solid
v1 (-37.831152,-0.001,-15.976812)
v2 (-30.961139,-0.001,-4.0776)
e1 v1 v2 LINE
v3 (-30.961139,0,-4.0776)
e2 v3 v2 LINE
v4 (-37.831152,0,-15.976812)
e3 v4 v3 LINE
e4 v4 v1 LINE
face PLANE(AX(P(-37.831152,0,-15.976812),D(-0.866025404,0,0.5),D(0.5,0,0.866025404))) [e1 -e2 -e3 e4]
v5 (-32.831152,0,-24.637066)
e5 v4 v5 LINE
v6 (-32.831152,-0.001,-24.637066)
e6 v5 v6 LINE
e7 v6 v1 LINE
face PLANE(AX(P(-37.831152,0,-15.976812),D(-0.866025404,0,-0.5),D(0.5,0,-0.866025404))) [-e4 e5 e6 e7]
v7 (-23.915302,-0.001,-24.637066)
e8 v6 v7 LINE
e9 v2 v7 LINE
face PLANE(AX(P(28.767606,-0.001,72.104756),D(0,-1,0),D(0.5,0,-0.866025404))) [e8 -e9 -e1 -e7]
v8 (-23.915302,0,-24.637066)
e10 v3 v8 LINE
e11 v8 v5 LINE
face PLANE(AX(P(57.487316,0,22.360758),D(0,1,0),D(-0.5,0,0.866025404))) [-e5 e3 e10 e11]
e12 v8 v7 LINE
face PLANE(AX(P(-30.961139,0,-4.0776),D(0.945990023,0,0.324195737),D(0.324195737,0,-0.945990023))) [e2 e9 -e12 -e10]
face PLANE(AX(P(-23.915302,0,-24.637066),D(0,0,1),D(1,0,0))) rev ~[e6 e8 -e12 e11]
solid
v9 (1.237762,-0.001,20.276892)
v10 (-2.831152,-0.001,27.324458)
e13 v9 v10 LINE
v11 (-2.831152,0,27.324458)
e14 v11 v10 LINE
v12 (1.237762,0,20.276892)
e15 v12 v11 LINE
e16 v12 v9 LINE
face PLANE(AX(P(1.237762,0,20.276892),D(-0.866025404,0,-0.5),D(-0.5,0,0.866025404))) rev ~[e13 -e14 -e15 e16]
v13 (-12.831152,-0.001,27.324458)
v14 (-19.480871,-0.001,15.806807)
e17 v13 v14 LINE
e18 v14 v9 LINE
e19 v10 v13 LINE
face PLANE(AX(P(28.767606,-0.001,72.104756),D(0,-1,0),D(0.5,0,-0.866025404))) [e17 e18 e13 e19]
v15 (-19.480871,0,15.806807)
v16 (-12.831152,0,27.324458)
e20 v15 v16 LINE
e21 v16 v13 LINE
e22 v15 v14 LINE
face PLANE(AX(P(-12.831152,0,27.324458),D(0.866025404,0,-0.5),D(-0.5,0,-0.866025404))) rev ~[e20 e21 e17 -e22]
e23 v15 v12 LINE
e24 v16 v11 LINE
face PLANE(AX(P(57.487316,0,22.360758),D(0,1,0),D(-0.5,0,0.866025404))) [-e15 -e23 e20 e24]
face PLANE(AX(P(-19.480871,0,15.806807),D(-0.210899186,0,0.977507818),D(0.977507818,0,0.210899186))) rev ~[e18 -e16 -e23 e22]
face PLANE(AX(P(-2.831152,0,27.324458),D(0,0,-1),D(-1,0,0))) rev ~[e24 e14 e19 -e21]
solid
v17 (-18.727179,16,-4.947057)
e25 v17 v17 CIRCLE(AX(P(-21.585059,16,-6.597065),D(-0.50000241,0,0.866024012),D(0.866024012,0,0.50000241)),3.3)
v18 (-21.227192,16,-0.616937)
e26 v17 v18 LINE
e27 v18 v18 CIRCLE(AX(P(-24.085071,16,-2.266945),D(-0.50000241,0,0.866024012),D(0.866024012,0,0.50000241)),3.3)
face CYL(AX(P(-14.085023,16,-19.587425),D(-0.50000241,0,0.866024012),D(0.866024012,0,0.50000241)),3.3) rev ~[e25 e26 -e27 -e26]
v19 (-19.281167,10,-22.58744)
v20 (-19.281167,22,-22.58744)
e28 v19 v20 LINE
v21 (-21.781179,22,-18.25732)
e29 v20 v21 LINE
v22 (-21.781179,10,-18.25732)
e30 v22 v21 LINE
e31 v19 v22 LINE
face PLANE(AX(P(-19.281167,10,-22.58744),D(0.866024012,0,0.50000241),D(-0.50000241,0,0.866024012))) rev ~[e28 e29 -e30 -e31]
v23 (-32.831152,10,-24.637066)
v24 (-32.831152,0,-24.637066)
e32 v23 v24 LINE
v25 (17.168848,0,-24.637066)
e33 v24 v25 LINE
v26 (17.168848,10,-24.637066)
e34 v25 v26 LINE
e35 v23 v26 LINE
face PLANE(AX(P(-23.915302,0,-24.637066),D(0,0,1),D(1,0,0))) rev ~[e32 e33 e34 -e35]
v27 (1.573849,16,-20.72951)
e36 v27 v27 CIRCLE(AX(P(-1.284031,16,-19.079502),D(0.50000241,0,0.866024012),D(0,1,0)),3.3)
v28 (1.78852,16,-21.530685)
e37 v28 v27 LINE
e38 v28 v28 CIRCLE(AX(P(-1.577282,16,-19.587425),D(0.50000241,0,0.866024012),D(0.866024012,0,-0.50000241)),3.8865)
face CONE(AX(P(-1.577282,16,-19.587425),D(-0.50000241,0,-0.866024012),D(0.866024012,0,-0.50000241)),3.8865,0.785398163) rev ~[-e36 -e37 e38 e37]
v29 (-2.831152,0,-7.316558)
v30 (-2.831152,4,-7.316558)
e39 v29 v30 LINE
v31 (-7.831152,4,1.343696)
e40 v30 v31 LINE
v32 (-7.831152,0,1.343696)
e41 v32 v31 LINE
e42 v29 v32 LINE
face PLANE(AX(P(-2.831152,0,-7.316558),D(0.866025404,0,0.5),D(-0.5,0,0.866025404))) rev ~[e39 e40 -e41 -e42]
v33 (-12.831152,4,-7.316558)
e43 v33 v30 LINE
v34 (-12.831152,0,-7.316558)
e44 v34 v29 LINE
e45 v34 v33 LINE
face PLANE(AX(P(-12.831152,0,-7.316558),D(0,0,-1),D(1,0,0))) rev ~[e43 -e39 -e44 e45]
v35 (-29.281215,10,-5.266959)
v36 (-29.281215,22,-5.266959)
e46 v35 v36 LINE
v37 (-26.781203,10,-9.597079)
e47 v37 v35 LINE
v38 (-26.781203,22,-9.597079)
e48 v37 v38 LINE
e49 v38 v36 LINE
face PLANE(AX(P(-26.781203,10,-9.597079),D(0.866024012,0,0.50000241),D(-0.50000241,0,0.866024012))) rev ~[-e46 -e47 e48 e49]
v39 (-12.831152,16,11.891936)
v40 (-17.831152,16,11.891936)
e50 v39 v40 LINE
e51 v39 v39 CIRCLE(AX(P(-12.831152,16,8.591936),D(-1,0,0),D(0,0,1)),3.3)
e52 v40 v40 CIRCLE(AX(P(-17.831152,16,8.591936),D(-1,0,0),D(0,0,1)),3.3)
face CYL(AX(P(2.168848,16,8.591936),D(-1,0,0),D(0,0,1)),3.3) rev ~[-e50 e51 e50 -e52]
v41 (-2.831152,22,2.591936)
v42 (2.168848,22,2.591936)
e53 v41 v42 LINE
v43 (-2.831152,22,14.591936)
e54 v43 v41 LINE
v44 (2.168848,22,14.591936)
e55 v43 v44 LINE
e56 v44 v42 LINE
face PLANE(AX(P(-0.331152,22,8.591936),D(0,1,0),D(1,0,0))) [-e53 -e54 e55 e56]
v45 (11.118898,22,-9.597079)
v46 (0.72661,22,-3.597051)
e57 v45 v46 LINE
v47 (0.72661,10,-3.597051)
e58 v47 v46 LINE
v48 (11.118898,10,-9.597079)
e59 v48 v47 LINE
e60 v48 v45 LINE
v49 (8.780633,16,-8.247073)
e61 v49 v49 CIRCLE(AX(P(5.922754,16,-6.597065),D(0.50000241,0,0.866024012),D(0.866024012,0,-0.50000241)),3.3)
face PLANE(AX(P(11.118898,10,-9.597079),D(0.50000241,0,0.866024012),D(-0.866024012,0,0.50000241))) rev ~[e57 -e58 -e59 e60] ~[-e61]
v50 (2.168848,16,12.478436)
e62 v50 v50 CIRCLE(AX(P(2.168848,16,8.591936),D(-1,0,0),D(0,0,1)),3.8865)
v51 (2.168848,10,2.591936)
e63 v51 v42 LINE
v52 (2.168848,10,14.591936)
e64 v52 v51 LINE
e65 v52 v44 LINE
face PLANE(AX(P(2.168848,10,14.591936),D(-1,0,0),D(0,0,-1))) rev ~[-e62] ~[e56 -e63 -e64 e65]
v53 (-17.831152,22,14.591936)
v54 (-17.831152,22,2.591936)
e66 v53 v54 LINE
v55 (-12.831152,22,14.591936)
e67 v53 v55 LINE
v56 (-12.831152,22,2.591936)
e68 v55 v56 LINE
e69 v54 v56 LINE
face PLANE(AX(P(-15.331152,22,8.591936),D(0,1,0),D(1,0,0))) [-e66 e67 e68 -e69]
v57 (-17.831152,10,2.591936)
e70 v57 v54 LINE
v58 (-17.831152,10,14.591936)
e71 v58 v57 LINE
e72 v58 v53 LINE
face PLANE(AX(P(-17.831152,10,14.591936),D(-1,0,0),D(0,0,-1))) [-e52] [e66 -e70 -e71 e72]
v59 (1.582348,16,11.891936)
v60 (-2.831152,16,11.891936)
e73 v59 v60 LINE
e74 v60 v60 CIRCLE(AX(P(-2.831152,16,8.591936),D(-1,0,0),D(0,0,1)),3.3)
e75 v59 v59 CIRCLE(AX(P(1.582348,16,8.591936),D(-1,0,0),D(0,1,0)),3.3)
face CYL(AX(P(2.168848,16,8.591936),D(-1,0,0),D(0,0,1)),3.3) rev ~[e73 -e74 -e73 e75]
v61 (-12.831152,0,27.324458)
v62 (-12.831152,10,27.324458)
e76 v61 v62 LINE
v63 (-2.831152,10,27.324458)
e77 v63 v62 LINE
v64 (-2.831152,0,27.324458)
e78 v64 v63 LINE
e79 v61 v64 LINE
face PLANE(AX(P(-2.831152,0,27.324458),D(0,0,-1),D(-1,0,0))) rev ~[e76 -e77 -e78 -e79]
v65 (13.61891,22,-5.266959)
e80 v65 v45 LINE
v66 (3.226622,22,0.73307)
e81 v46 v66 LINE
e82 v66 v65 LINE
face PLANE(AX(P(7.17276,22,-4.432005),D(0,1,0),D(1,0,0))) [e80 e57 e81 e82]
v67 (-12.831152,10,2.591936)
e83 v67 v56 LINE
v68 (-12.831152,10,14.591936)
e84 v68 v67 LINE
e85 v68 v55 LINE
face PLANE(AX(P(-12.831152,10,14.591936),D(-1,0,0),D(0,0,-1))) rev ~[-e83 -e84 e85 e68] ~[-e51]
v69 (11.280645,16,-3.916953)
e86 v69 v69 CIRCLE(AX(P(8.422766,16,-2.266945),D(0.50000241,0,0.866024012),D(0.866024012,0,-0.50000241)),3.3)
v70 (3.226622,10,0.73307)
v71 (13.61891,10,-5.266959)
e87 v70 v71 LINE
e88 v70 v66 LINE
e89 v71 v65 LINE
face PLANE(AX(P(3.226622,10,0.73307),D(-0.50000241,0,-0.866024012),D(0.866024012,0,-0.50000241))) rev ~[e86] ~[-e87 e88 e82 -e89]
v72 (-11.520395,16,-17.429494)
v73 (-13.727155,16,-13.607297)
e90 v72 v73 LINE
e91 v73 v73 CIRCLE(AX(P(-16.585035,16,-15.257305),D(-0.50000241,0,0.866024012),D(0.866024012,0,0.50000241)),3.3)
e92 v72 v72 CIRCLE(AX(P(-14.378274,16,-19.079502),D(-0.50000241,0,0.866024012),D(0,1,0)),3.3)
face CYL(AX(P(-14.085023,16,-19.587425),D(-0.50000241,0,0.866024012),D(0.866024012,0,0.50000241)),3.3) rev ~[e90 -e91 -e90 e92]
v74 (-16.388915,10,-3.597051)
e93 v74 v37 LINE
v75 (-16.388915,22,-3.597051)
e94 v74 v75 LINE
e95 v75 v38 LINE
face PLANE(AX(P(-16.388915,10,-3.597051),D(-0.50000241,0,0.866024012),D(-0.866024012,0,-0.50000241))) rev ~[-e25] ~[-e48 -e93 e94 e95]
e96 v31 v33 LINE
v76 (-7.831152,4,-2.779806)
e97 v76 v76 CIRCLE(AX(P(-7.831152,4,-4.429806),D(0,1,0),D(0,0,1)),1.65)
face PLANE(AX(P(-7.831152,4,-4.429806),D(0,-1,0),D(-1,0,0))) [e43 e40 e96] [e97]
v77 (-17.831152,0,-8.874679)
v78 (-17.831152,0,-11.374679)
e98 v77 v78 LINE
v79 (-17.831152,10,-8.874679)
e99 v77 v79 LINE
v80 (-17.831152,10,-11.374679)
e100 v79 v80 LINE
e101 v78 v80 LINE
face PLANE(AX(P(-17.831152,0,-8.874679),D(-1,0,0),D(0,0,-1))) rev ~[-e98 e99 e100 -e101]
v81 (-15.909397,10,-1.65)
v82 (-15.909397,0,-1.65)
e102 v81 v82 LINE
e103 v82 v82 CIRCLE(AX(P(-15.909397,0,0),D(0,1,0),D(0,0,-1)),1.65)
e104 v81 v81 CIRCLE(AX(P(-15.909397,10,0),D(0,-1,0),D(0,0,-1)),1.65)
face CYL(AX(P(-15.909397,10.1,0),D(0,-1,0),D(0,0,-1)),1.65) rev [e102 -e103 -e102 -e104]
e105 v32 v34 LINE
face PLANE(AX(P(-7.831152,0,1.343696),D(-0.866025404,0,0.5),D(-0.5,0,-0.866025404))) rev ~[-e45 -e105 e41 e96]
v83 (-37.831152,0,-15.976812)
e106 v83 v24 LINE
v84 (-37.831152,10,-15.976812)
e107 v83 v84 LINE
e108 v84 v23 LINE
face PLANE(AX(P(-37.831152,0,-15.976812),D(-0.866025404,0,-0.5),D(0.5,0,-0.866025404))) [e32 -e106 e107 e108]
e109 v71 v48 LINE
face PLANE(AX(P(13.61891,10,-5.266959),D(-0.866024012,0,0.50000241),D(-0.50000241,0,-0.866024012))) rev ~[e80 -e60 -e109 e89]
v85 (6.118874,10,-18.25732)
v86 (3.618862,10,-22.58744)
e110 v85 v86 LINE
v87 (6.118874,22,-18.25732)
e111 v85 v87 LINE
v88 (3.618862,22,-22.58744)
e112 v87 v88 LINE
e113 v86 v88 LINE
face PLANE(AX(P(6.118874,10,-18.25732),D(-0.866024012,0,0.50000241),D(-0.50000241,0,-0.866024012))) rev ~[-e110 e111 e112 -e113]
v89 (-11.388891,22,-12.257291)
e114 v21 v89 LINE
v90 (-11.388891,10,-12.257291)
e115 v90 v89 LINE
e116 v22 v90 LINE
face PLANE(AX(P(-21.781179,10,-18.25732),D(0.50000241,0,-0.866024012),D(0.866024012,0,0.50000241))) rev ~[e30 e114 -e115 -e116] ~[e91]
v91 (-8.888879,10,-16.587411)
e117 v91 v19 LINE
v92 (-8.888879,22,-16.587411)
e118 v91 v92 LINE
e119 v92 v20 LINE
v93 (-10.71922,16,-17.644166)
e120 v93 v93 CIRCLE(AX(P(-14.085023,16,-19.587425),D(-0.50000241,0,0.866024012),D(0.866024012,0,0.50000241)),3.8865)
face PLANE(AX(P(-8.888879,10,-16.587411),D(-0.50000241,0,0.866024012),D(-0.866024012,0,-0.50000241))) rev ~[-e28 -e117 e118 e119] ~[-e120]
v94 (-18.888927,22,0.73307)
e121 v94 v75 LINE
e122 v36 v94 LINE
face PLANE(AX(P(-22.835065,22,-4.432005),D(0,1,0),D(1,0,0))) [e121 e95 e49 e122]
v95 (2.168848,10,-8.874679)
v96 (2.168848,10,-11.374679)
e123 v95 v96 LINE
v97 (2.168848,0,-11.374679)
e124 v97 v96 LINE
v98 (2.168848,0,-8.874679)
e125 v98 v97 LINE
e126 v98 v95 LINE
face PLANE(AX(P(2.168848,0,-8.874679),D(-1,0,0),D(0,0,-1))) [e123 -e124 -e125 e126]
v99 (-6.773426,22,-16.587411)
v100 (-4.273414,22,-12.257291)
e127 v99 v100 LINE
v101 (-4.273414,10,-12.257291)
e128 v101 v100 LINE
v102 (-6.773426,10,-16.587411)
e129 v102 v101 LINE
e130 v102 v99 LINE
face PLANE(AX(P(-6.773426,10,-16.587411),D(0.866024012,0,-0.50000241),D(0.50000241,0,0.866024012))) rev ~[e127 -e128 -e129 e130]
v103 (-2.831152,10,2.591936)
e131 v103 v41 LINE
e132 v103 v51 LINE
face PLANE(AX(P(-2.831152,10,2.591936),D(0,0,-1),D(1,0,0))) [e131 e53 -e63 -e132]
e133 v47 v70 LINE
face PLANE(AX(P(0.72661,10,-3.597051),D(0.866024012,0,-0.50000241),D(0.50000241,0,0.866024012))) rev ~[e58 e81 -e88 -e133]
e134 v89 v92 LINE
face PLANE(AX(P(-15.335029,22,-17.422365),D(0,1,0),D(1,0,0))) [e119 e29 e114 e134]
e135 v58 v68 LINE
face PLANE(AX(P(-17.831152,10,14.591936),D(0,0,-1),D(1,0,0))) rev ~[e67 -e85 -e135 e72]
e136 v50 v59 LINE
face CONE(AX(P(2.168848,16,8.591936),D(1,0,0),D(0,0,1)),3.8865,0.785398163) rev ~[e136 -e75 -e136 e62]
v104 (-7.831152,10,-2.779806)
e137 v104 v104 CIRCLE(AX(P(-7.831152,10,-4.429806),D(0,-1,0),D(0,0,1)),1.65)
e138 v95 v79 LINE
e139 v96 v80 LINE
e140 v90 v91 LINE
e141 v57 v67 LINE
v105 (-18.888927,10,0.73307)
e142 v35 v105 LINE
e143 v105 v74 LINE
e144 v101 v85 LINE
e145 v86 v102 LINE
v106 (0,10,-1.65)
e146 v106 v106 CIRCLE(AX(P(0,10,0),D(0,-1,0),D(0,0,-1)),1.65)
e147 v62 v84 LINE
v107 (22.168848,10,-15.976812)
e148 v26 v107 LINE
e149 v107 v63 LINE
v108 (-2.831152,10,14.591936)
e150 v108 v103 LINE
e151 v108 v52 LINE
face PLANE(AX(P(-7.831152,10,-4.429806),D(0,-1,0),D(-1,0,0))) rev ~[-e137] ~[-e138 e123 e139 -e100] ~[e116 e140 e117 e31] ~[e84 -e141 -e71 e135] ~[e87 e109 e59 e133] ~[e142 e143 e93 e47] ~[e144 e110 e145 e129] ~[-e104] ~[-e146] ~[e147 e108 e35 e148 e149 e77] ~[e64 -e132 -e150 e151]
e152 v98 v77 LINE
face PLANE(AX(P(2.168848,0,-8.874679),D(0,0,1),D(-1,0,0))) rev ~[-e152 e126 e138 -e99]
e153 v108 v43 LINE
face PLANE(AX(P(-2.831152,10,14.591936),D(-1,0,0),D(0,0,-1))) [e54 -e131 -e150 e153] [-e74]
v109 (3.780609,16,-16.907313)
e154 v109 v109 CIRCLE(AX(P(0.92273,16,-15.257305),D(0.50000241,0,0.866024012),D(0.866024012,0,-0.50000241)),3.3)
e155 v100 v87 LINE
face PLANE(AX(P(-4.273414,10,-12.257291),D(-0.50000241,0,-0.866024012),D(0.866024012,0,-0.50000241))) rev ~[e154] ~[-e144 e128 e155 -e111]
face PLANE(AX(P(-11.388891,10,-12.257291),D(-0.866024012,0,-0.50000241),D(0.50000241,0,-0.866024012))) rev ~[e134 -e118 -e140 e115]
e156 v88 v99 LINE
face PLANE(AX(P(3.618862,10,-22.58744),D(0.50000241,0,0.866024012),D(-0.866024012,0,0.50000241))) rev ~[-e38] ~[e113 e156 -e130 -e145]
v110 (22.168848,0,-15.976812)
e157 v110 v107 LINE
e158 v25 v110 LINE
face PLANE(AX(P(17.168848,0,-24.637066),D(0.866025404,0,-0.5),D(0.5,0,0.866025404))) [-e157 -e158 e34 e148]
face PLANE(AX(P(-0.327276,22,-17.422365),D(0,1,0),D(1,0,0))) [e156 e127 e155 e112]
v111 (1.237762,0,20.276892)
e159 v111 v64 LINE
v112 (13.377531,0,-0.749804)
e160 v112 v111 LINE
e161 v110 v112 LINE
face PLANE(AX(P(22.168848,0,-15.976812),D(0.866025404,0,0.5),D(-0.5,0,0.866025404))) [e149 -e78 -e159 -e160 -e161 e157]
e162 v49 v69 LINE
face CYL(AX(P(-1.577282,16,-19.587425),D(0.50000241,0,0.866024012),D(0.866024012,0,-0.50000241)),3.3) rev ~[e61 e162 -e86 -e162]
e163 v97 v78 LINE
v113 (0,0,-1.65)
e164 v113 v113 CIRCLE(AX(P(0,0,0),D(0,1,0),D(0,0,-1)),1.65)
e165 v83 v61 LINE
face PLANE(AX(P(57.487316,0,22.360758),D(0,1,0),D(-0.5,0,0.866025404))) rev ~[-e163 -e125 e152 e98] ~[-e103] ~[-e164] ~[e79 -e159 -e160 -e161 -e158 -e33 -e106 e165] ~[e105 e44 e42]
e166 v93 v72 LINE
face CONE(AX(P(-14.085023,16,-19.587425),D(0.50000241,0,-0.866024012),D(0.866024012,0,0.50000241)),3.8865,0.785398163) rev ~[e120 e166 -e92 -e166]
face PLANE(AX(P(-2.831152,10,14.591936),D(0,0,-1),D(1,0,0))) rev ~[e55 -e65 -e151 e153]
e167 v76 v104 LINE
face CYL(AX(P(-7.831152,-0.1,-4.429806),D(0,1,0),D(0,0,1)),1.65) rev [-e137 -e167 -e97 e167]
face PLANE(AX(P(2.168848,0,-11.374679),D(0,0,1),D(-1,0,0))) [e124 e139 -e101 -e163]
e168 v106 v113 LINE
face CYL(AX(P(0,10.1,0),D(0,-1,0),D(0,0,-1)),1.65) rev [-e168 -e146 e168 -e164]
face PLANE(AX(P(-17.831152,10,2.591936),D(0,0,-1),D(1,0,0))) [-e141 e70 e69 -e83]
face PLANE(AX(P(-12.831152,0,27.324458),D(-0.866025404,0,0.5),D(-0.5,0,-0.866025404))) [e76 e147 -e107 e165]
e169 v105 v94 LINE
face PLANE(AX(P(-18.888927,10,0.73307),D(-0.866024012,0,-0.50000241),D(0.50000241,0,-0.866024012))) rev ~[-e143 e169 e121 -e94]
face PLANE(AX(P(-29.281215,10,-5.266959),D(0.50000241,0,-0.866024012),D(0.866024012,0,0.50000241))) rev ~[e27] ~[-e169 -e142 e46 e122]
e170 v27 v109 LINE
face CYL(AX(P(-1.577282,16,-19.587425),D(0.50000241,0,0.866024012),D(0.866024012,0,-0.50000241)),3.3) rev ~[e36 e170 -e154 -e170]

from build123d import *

# Parameters (mm, degrees)
EXTRUDE_1_DEPTH                 = 10
SKETCH_2_W                      = 5
SKETCH_2_H                      = 12
EXTRUDE_4_DEPTH                 = 12
HOLE_WIZARD_G1_16_1_D           = 6.6
HOLE_WIZARD_G1_16_1_DEPTH       = 50
HOLE_WIZARD_G1_16_1_CSINK_D     = 7.773
HOLE_WIZARD_G1_16_1_CSINK_ANGLE = 90
HOLE_WIZARD_G1_16_1_TIP         = 1.982840043
HOLE_WIZARD_G1_16_2_D           = 6.6
HOLE_WIZARD_G1_16_2_DEPTH       = 50
HOLE_WIZARD_G1_16_2_CSINK_D     = 7.773
HOLE_WIZARD_G1_16_2_CSINK_ANGLE = 90
HOLE_WIZARD_G1_16_2_TIP         = 1.982840043
HOLE_WIZARD_G1_16_3_D           = 6.6
HOLE_WIZARD_G1_16_3_DEPTH       = 50
HOLE_WIZARD_G1_16_3_CSINK_D     = 7.773
HOLE_WIZARD_G1_16_3_CSINK_ANGLE = 90
HOLE_WIZARD_G1_16_3_TIP         = 1.982840043
EXTRUDE_5_DEPTH                 = 40
SKETCH_19_W                     = 50
SKETCH_19_H                     = 30
CUT_EXTRUDE_2_DEPTH             = 74
EXTRUDE_6_DEPTH                 = 40
SKETCH_23_R                     = 1.5
CUT_EXTRUDE_3_DEPTH             = 6
SPLIT_BODIES_1_SURFACE_1_BACK   = 101.717
SPLIT_BODIES_1_SURFACE_1_DEPTH  = 203.434
SPLIT_BODIES_1_SURFACE_2_BACK   = 101.717
SPLIT_BODIES_1_SURFACE_2_DEPTH  = 203.434
SKETCH_26_W                     = 78.052093204
SKETCH_26_H                     = 42.58927149
CUT_EXTRUDE_5_DEPTH             = 147
CUT_EXTRUDE_6_DEPTH             = 4
SKETCH_30_W                     = 20
SKETCH_30_H                     = 2.5
CUT_EXTRUDE_7_DEPTH             = 10
HOLE_WIZARD_M4_2_AT_2_COUNT     = 2
HOLE_WIZARD_M4_2_AT_2_PITCH     = 15.909397414


with BuildPart() as part:
    # 草图1 → 凸台-拉伸1 (new body)
    with BuildSketch(Plane(origin=(0, 0, 0), x_dir=(1, 0, 0), z_dir=(0, 1, 0))):
        Polygon((-32.831152269, 24.637065757), (17.168847731, 24.637065757), (22.168847731, 15.976811719), (-2.831152269, -27.32445847), (-12.831152269, -27.32445847), (-37.831152269, 15.976811719), align=None)
    extrude(amount=EXTRUDE_1_DEPTH)

    # 草图2 → 凸台-拉伸4 (add)
    with BuildSketch(Plane(origin=(0, 10, 0), x_dir=(1, 0, 0), z_dir=(0, 1, 0))):
        Polygon((-18.888926711, -0.733069557), (-16.388914662, 3.597050504), (-26.78120281, 9.597079424), (-29.28121486, 5.266959362), align=None)
        Polygon((-11.388890562, 12.257290628), (-8.888878512, 16.58741069), (-19.28116666, 22.58743961), (-21.78117871, 18.257319548), align=None)
        Polygon((-4.273413977, 12.257290628), (6.118874171, 18.257319548), (3.618862121, 22.58743961), (-6.773426027, 16.58741069), align=None)
        Polygon((3.226622172, -0.733069557), (13.618910321, 5.266959362), (11.118898271, 9.597079424), (0.726610123, 3.597050504), align=None)
        with Locations((-0.331152269, -8.591935763)):
            Rectangle(SKETCH_2_W, SKETCH_2_H)
        with Locations((-15.331152269, -8.591935763)):
            Rectangle(SKETCH_2_W, SKETCH_2_H)
    extrude(amount=EXTRUDE_4_DEPTH)

    # G1/16 螺纹孔1
    with Locations(Plane(origin=(4.96034155, 0, -8.591508373), x_dir=(-0.8660240123793532, 0, -0.500002409976558), z_dir=(0.500002409976558, 0, -0.8660240123793532))):
        with Locations((21.991727555, 16)):
            CounterSinkHole(HOLE_WIZARD_G1_16_1_D / 2, HOLE_WIZARD_G1_16_1_CSINK_D / 2, depth=HOLE_WIZARD_G1_16_1_DEPTH, counter_sink_angle=HOLE_WIZARD_G1_16_1_CSINK_ANGLE)
            with Locations((0, 0, -(HOLE_WIZARD_G1_16_1_DEPTH + HOLE_WIZARD_G1_16_1_TIP / 2))):  # 118° drill point
                Cone(0, HOLE_WIZARD_G1_16_1_D / 2, HOLE_WIZARD_G1_16_1_TIP, mode=Mode.SUBTRACT)

    # G1/16 螺纹孔2
    with Locations(Plane(origin=(-8.875955431, 0, -15.373506972), x_dir=(-0.8660240123793504, 0, 0.5000024099765628), z_dir=(-0.5000024099765628, 0, -0.8660240123793506))):
        with Locations((-8.427795735, 16)):
            CounterSinkHole(HOLE_WIZARD_G1_16_2_D / 2, HOLE_WIZARD_G1_16_2_CSINK_D / 2, depth=HOLE_WIZARD_G1_16_2_DEPTH, counter_sink_angle=HOLE_WIZARD_G1_16_2_CSINK_ANGLE)
            with Locations((0, 0, -(HOLE_WIZARD_G1_16_2_DEPTH + HOLE_WIZARD_G1_16_2_TIP / 2))):  # 118° drill point
                Cone(0, HOLE_WIZARD_G1_16_2_D / 2, HOLE_WIZARD_G1_16_2_TIP, mode=Mode.SUBTRACT)

    # G1/16 螺纹孔3
    with Locations(Plane(origin=(2.168847731, 0, 0), x_dir=(0, 0, -1), z_dir=(1, 0, 0))):
        with Locations((-8.591935763, 16)):
            CounterSinkHole(HOLE_WIZARD_G1_16_3_D / 2, HOLE_WIZARD_G1_16_3_CSINK_D / 2, depth=HOLE_WIZARD_G1_16_3_DEPTH, counter_sink_angle=HOLE_WIZARD_G1_16_3_CSINK_ANGLE)
            with Locations((0, 0, -(HOLE_WIZARD_G1_16_3_DEPTH + HOLE_WIZARD_G1_16_3_TIP / 2))):  # 118° drill point
                Cone(0, HOLE_WIZARD_G1_16_3_D / 2, HOLE_WIZARD_G1_16_3_TIP, mode=Mode.SUBTRACT)

    # 草图18 → 凸台-拉伸5 (add)
    with BuildSketch(Plane(origin=(0, 0, 0), x_dir=(-1, 0, 0), z_dir=(0, -1, 0))):
        Polygon((36.516059441, -12.131432542), (30.961139109, 4.077599876), (19.480871434, -15.806807021), align=None)
        Polygon((30.961139109, 4.077599876), (23.915302437, 24.637065757), (-1.237762159, -20.276891949), (19.480871434, -15.806807021), align=None)
        Polygon((23.915302437, 24.637065757), (0, 24.637065757), (-13.377530598, 0.749803781), (-1.237762159, -20.276891949), align=None)
    extrude(amount=EXTRUDE_5_DEPTH)

    # 草图19 → 切除-拉伸2 (cut)
    with BuildSketch(Plane(origin=(-4.125141126, 0, 19.119835281), x_dir=(0.9775078175150543, 0, 0.21089918609837094), z_dir=(-0.21089918609837097, 0, 0.9775078175150544))):
        with Locations((-8.136224319, -15)):
            Rectangle(SKETCH_19_W, SKETCH_19_H)
    extrude(amount=-CUT_EXTRUDE_2_DEPTH, mode=Mode.SUBTRACT)


with BuildPart() as cut_extrude_2_piece_1:
    # of the separate pieces the step leaves, piece 1, a body of its own (cut_extrude_2_pieces)
    add(part.part.solids().sort_by_distance((17.168847731, 0, -24.637065757))[0])



with BuildPart() as cut_extrude_2_piece_2:
    # of the separate pieces the step leaves, piece 2, a body of its own (cut_extrude_2_pieces)
    add(part.part.solids().sort_by_distance((-23.915302437, -30, -24.637065757))[0])


with BuildPart() as cut_extrude_2_piece_1_1:
    add(cut_extrude_2_piece_1.part)

    add(cut_extrude_2_piece_2.part)  # 凸台-拉伸6 merges 切除-拉伸2 piece 2
    # 草图20 → 凸台-拉伸6 (add)
    with BuildSketch(Plane.XZ):
        Polygon((-12.831152269, 27.32445847), (-19.480871434, 15.806807021), (1.237762159, 20.276891949), (-2.831152269, 27.32445847), align=None)
        Polygon((-37.831152269, -15.976811719), (-30.961139109, -4.077599876), (-23.915302437, -24.637065757), (-32.831152269, -24.637065757), align=None)
    extrude(amount=EXTRUDE_6_DEPTH)

    # 草图23 → 切除-拉伸3 (cut)
    with BuildSketch(Plane(origin=(0, -30, 0), x_dir=(1, 0, 0), z_dir=(0, 1, 0))):
        with Locations(Location((0.168847731, -0.188995818, 0), (0, 0, 270))):
            Circle(SKETCH_23_R)
        with Locations(Location((-7.831152269, 13.667410642, 0), (0, 0, 270))):
            Circle(SKETCH_23_R)
    extrude(amount=-CUT_EXTRUDE_3_DEPTH, mode=Mode.SUBTRACT)


with BuildPart() as body_2:
    # Split Bodies 1: the piece behind the surface
    add(cut_extrude_2_piece_1_1.part)
    # Split Bodies 1 surface: a surface, the sketch's curves swept straight by 203.434 mm
    with BuildLine(Plane(origin=(-35.291526612, 0, -20.37557239), x_dir=(-0.4999999999999961, 0, 0.866025403784441), z_dir=(-0.866025403784441, 0, -0.4999999999999961)).offset(-SPLIT_BODIES_1_SURFACE_1_BACK), mode=Mode.PRIVATE) as split_bodies_1_surface_1_path:
        Line((-9.378673602, 0), (48.060747663, 0))
        Line((48.060747663, 0), (48.060747663, -0.001))
        Line((48.060747663, -0.001), (-9.378673602, -0.001))
        Line((-9.378673602, -0.001), (-9.378673602, 0))
    split_bodies_1_surface_1 = Shell.extrude(split_bodies_1_surface_1_path.wire(), (-0.866025404 * SPLIT_BODIES_1_SURFACE_1_DEPTH, 0 * SPLIT_BODIES_1_SURFACE_1_DEPTH, -0.5 * SPLIT_BODIES_1_SURFACE_1_DEPTH))
    split(bisect_by=split_bodies_1_surface_1, keep=Keep.BOTTOM)


with BuildPart() as cut_extrude_2_piece_1_2:
    add(cut_extrude_2_piece_1_1.part)

    # Split Bodies 1: split by a surface, the side it looks to stays
    # Split Bodies 1 surface: a surface, the sketch's curves swept straight by 203.434 mm
    with BuildLine(Plane(origin=(-35.291526612, 0, -20.37557239), x_dir=(-0.4999999999999961, 0, 0.866025403784441), z_dir=(-0.866025403784441, 0, -0.4999999999999961)).offset(-SPLIT_BODIES_1_SURFACE_2_BACK), mode=Mode.PRIVATE) as split_bodies_1_surface_2_path:
        Line((-9.378673602, 0), (48.060747663, 0))
        Line((48.060747663, 0), (48.060747663, -0.001))
        Line((48.060747663, -0.001), (-9.378673602, -0.001))
        Line((-9.378673602, -0.001), (-9.378673602, 0))
    split_bodies_1_surface_2 = Shell.extrude(split_bodies_1_surface_2_path.wire(), (-0.866025404 * SPLIT_BODIES_1_SURFACE_2_DEPTH, 0 * SPLIT_BODIES_1_SURFACE_2_DEPTH, -0.5 * SPLIT_BODIES_1_SURFACE_2_DEPTH))
    split(bisect_by=split_bodies_1_surface_2, keep=Keep.TOP)

    # 草图26 → 切除-拉伸5 (cut)
    with BuildSketch(Plane(origin=(9.708473388, 0, 5.605189724), x_dir=(0.49999999999999983, 0, -0.8660254037844388), z_dir=(0.8660254037844387, 0, 0.4999999999999998))):
        with Locations((-9.034701061, -21.295635745)):
            Rectangle(SKETCH_26_W, SKETCH_26_H)
    extrude(amount=-CUT_EXTRUDE_5_DEPTH, mode=Mode.SUBTRACT)

    # 草图28 → M4 螺纹孔1 (revolve, cut)
    with BuildSketch(Plane(origin=(-7.831152269, 10, -4.429806335), x_dir=(0, 0, 1), z_dir=(1, 0, 0))):
        Polygon((0, 0), (0, 11.091420021), (1.65, 10.1), (1.65, 0), align=None)
    revolve(axis=Axis((-7.831152269, 16.35, -4.429806335), (0, -1, 0)), mode=Mode.SUBTRACT)

    # 草图29 → 切除-拉伸6 (cut)
    with BuildSketch(Plane(origin=(0, 0, 0), x_dir=(-1, 0, 0), z_dir=(0, -1, 0))):
        Polygon((7.831152269, -1.343696357), (12.831152269, 7.316557681), (2.831152269, 7.316557681), align=None)
    extrude(amount=-CUT_EXTRUDE_6_DEPTH, mode=Mode.SUBTRACT)

    # 草图30 → 切除-拉伸7 (cut)
    with BuildSketch(Plane(origin=(0, 0, 0), x_dir=(-1, 0, 0), z_dir=(0, -1, 0))):
        with Locations((7.831152269, 10.124679252)):
            Rectangle(SKETCH_30_W, SKETCH_30_H)
    extrude(amount=-CUT_EXTRUDE_7_DEPTH, mode=Mode.SUBTRACT)

    # 草图32 → M4 螺纹孔2 (revolve, cut)
    with BuildSketch(Plane(origin=(0, 0, 0), x_dir=(0, 0, -1), z_dir=(1, 0, 0))):
        Polygon((0, 0), (0, 11.091420021), (1.65, 10.1), (1.65, 0), align=None)
    hole_wizard_m4_2 = revolve(axis=Axis((0, -6.35, 0), (0, 1, 0)), mode=Mode.SUBTRACT)

    # M4 螺纹孔2 at 2: M4 螺纹孔2 ×2
    with Locations(*[(-i * HOLE_WIZARD_M4_2_AT_2_PITCH, 0, 0) for i in range(1, HOLE_WIZARD_M4_2_AT_2_COUNT)]):
        add(hole_wizard_m4_2, mode=Mode.SUBTRACT)


solid = Compound([body_2.part, cut_extrude_2_piece_1_2.part])
